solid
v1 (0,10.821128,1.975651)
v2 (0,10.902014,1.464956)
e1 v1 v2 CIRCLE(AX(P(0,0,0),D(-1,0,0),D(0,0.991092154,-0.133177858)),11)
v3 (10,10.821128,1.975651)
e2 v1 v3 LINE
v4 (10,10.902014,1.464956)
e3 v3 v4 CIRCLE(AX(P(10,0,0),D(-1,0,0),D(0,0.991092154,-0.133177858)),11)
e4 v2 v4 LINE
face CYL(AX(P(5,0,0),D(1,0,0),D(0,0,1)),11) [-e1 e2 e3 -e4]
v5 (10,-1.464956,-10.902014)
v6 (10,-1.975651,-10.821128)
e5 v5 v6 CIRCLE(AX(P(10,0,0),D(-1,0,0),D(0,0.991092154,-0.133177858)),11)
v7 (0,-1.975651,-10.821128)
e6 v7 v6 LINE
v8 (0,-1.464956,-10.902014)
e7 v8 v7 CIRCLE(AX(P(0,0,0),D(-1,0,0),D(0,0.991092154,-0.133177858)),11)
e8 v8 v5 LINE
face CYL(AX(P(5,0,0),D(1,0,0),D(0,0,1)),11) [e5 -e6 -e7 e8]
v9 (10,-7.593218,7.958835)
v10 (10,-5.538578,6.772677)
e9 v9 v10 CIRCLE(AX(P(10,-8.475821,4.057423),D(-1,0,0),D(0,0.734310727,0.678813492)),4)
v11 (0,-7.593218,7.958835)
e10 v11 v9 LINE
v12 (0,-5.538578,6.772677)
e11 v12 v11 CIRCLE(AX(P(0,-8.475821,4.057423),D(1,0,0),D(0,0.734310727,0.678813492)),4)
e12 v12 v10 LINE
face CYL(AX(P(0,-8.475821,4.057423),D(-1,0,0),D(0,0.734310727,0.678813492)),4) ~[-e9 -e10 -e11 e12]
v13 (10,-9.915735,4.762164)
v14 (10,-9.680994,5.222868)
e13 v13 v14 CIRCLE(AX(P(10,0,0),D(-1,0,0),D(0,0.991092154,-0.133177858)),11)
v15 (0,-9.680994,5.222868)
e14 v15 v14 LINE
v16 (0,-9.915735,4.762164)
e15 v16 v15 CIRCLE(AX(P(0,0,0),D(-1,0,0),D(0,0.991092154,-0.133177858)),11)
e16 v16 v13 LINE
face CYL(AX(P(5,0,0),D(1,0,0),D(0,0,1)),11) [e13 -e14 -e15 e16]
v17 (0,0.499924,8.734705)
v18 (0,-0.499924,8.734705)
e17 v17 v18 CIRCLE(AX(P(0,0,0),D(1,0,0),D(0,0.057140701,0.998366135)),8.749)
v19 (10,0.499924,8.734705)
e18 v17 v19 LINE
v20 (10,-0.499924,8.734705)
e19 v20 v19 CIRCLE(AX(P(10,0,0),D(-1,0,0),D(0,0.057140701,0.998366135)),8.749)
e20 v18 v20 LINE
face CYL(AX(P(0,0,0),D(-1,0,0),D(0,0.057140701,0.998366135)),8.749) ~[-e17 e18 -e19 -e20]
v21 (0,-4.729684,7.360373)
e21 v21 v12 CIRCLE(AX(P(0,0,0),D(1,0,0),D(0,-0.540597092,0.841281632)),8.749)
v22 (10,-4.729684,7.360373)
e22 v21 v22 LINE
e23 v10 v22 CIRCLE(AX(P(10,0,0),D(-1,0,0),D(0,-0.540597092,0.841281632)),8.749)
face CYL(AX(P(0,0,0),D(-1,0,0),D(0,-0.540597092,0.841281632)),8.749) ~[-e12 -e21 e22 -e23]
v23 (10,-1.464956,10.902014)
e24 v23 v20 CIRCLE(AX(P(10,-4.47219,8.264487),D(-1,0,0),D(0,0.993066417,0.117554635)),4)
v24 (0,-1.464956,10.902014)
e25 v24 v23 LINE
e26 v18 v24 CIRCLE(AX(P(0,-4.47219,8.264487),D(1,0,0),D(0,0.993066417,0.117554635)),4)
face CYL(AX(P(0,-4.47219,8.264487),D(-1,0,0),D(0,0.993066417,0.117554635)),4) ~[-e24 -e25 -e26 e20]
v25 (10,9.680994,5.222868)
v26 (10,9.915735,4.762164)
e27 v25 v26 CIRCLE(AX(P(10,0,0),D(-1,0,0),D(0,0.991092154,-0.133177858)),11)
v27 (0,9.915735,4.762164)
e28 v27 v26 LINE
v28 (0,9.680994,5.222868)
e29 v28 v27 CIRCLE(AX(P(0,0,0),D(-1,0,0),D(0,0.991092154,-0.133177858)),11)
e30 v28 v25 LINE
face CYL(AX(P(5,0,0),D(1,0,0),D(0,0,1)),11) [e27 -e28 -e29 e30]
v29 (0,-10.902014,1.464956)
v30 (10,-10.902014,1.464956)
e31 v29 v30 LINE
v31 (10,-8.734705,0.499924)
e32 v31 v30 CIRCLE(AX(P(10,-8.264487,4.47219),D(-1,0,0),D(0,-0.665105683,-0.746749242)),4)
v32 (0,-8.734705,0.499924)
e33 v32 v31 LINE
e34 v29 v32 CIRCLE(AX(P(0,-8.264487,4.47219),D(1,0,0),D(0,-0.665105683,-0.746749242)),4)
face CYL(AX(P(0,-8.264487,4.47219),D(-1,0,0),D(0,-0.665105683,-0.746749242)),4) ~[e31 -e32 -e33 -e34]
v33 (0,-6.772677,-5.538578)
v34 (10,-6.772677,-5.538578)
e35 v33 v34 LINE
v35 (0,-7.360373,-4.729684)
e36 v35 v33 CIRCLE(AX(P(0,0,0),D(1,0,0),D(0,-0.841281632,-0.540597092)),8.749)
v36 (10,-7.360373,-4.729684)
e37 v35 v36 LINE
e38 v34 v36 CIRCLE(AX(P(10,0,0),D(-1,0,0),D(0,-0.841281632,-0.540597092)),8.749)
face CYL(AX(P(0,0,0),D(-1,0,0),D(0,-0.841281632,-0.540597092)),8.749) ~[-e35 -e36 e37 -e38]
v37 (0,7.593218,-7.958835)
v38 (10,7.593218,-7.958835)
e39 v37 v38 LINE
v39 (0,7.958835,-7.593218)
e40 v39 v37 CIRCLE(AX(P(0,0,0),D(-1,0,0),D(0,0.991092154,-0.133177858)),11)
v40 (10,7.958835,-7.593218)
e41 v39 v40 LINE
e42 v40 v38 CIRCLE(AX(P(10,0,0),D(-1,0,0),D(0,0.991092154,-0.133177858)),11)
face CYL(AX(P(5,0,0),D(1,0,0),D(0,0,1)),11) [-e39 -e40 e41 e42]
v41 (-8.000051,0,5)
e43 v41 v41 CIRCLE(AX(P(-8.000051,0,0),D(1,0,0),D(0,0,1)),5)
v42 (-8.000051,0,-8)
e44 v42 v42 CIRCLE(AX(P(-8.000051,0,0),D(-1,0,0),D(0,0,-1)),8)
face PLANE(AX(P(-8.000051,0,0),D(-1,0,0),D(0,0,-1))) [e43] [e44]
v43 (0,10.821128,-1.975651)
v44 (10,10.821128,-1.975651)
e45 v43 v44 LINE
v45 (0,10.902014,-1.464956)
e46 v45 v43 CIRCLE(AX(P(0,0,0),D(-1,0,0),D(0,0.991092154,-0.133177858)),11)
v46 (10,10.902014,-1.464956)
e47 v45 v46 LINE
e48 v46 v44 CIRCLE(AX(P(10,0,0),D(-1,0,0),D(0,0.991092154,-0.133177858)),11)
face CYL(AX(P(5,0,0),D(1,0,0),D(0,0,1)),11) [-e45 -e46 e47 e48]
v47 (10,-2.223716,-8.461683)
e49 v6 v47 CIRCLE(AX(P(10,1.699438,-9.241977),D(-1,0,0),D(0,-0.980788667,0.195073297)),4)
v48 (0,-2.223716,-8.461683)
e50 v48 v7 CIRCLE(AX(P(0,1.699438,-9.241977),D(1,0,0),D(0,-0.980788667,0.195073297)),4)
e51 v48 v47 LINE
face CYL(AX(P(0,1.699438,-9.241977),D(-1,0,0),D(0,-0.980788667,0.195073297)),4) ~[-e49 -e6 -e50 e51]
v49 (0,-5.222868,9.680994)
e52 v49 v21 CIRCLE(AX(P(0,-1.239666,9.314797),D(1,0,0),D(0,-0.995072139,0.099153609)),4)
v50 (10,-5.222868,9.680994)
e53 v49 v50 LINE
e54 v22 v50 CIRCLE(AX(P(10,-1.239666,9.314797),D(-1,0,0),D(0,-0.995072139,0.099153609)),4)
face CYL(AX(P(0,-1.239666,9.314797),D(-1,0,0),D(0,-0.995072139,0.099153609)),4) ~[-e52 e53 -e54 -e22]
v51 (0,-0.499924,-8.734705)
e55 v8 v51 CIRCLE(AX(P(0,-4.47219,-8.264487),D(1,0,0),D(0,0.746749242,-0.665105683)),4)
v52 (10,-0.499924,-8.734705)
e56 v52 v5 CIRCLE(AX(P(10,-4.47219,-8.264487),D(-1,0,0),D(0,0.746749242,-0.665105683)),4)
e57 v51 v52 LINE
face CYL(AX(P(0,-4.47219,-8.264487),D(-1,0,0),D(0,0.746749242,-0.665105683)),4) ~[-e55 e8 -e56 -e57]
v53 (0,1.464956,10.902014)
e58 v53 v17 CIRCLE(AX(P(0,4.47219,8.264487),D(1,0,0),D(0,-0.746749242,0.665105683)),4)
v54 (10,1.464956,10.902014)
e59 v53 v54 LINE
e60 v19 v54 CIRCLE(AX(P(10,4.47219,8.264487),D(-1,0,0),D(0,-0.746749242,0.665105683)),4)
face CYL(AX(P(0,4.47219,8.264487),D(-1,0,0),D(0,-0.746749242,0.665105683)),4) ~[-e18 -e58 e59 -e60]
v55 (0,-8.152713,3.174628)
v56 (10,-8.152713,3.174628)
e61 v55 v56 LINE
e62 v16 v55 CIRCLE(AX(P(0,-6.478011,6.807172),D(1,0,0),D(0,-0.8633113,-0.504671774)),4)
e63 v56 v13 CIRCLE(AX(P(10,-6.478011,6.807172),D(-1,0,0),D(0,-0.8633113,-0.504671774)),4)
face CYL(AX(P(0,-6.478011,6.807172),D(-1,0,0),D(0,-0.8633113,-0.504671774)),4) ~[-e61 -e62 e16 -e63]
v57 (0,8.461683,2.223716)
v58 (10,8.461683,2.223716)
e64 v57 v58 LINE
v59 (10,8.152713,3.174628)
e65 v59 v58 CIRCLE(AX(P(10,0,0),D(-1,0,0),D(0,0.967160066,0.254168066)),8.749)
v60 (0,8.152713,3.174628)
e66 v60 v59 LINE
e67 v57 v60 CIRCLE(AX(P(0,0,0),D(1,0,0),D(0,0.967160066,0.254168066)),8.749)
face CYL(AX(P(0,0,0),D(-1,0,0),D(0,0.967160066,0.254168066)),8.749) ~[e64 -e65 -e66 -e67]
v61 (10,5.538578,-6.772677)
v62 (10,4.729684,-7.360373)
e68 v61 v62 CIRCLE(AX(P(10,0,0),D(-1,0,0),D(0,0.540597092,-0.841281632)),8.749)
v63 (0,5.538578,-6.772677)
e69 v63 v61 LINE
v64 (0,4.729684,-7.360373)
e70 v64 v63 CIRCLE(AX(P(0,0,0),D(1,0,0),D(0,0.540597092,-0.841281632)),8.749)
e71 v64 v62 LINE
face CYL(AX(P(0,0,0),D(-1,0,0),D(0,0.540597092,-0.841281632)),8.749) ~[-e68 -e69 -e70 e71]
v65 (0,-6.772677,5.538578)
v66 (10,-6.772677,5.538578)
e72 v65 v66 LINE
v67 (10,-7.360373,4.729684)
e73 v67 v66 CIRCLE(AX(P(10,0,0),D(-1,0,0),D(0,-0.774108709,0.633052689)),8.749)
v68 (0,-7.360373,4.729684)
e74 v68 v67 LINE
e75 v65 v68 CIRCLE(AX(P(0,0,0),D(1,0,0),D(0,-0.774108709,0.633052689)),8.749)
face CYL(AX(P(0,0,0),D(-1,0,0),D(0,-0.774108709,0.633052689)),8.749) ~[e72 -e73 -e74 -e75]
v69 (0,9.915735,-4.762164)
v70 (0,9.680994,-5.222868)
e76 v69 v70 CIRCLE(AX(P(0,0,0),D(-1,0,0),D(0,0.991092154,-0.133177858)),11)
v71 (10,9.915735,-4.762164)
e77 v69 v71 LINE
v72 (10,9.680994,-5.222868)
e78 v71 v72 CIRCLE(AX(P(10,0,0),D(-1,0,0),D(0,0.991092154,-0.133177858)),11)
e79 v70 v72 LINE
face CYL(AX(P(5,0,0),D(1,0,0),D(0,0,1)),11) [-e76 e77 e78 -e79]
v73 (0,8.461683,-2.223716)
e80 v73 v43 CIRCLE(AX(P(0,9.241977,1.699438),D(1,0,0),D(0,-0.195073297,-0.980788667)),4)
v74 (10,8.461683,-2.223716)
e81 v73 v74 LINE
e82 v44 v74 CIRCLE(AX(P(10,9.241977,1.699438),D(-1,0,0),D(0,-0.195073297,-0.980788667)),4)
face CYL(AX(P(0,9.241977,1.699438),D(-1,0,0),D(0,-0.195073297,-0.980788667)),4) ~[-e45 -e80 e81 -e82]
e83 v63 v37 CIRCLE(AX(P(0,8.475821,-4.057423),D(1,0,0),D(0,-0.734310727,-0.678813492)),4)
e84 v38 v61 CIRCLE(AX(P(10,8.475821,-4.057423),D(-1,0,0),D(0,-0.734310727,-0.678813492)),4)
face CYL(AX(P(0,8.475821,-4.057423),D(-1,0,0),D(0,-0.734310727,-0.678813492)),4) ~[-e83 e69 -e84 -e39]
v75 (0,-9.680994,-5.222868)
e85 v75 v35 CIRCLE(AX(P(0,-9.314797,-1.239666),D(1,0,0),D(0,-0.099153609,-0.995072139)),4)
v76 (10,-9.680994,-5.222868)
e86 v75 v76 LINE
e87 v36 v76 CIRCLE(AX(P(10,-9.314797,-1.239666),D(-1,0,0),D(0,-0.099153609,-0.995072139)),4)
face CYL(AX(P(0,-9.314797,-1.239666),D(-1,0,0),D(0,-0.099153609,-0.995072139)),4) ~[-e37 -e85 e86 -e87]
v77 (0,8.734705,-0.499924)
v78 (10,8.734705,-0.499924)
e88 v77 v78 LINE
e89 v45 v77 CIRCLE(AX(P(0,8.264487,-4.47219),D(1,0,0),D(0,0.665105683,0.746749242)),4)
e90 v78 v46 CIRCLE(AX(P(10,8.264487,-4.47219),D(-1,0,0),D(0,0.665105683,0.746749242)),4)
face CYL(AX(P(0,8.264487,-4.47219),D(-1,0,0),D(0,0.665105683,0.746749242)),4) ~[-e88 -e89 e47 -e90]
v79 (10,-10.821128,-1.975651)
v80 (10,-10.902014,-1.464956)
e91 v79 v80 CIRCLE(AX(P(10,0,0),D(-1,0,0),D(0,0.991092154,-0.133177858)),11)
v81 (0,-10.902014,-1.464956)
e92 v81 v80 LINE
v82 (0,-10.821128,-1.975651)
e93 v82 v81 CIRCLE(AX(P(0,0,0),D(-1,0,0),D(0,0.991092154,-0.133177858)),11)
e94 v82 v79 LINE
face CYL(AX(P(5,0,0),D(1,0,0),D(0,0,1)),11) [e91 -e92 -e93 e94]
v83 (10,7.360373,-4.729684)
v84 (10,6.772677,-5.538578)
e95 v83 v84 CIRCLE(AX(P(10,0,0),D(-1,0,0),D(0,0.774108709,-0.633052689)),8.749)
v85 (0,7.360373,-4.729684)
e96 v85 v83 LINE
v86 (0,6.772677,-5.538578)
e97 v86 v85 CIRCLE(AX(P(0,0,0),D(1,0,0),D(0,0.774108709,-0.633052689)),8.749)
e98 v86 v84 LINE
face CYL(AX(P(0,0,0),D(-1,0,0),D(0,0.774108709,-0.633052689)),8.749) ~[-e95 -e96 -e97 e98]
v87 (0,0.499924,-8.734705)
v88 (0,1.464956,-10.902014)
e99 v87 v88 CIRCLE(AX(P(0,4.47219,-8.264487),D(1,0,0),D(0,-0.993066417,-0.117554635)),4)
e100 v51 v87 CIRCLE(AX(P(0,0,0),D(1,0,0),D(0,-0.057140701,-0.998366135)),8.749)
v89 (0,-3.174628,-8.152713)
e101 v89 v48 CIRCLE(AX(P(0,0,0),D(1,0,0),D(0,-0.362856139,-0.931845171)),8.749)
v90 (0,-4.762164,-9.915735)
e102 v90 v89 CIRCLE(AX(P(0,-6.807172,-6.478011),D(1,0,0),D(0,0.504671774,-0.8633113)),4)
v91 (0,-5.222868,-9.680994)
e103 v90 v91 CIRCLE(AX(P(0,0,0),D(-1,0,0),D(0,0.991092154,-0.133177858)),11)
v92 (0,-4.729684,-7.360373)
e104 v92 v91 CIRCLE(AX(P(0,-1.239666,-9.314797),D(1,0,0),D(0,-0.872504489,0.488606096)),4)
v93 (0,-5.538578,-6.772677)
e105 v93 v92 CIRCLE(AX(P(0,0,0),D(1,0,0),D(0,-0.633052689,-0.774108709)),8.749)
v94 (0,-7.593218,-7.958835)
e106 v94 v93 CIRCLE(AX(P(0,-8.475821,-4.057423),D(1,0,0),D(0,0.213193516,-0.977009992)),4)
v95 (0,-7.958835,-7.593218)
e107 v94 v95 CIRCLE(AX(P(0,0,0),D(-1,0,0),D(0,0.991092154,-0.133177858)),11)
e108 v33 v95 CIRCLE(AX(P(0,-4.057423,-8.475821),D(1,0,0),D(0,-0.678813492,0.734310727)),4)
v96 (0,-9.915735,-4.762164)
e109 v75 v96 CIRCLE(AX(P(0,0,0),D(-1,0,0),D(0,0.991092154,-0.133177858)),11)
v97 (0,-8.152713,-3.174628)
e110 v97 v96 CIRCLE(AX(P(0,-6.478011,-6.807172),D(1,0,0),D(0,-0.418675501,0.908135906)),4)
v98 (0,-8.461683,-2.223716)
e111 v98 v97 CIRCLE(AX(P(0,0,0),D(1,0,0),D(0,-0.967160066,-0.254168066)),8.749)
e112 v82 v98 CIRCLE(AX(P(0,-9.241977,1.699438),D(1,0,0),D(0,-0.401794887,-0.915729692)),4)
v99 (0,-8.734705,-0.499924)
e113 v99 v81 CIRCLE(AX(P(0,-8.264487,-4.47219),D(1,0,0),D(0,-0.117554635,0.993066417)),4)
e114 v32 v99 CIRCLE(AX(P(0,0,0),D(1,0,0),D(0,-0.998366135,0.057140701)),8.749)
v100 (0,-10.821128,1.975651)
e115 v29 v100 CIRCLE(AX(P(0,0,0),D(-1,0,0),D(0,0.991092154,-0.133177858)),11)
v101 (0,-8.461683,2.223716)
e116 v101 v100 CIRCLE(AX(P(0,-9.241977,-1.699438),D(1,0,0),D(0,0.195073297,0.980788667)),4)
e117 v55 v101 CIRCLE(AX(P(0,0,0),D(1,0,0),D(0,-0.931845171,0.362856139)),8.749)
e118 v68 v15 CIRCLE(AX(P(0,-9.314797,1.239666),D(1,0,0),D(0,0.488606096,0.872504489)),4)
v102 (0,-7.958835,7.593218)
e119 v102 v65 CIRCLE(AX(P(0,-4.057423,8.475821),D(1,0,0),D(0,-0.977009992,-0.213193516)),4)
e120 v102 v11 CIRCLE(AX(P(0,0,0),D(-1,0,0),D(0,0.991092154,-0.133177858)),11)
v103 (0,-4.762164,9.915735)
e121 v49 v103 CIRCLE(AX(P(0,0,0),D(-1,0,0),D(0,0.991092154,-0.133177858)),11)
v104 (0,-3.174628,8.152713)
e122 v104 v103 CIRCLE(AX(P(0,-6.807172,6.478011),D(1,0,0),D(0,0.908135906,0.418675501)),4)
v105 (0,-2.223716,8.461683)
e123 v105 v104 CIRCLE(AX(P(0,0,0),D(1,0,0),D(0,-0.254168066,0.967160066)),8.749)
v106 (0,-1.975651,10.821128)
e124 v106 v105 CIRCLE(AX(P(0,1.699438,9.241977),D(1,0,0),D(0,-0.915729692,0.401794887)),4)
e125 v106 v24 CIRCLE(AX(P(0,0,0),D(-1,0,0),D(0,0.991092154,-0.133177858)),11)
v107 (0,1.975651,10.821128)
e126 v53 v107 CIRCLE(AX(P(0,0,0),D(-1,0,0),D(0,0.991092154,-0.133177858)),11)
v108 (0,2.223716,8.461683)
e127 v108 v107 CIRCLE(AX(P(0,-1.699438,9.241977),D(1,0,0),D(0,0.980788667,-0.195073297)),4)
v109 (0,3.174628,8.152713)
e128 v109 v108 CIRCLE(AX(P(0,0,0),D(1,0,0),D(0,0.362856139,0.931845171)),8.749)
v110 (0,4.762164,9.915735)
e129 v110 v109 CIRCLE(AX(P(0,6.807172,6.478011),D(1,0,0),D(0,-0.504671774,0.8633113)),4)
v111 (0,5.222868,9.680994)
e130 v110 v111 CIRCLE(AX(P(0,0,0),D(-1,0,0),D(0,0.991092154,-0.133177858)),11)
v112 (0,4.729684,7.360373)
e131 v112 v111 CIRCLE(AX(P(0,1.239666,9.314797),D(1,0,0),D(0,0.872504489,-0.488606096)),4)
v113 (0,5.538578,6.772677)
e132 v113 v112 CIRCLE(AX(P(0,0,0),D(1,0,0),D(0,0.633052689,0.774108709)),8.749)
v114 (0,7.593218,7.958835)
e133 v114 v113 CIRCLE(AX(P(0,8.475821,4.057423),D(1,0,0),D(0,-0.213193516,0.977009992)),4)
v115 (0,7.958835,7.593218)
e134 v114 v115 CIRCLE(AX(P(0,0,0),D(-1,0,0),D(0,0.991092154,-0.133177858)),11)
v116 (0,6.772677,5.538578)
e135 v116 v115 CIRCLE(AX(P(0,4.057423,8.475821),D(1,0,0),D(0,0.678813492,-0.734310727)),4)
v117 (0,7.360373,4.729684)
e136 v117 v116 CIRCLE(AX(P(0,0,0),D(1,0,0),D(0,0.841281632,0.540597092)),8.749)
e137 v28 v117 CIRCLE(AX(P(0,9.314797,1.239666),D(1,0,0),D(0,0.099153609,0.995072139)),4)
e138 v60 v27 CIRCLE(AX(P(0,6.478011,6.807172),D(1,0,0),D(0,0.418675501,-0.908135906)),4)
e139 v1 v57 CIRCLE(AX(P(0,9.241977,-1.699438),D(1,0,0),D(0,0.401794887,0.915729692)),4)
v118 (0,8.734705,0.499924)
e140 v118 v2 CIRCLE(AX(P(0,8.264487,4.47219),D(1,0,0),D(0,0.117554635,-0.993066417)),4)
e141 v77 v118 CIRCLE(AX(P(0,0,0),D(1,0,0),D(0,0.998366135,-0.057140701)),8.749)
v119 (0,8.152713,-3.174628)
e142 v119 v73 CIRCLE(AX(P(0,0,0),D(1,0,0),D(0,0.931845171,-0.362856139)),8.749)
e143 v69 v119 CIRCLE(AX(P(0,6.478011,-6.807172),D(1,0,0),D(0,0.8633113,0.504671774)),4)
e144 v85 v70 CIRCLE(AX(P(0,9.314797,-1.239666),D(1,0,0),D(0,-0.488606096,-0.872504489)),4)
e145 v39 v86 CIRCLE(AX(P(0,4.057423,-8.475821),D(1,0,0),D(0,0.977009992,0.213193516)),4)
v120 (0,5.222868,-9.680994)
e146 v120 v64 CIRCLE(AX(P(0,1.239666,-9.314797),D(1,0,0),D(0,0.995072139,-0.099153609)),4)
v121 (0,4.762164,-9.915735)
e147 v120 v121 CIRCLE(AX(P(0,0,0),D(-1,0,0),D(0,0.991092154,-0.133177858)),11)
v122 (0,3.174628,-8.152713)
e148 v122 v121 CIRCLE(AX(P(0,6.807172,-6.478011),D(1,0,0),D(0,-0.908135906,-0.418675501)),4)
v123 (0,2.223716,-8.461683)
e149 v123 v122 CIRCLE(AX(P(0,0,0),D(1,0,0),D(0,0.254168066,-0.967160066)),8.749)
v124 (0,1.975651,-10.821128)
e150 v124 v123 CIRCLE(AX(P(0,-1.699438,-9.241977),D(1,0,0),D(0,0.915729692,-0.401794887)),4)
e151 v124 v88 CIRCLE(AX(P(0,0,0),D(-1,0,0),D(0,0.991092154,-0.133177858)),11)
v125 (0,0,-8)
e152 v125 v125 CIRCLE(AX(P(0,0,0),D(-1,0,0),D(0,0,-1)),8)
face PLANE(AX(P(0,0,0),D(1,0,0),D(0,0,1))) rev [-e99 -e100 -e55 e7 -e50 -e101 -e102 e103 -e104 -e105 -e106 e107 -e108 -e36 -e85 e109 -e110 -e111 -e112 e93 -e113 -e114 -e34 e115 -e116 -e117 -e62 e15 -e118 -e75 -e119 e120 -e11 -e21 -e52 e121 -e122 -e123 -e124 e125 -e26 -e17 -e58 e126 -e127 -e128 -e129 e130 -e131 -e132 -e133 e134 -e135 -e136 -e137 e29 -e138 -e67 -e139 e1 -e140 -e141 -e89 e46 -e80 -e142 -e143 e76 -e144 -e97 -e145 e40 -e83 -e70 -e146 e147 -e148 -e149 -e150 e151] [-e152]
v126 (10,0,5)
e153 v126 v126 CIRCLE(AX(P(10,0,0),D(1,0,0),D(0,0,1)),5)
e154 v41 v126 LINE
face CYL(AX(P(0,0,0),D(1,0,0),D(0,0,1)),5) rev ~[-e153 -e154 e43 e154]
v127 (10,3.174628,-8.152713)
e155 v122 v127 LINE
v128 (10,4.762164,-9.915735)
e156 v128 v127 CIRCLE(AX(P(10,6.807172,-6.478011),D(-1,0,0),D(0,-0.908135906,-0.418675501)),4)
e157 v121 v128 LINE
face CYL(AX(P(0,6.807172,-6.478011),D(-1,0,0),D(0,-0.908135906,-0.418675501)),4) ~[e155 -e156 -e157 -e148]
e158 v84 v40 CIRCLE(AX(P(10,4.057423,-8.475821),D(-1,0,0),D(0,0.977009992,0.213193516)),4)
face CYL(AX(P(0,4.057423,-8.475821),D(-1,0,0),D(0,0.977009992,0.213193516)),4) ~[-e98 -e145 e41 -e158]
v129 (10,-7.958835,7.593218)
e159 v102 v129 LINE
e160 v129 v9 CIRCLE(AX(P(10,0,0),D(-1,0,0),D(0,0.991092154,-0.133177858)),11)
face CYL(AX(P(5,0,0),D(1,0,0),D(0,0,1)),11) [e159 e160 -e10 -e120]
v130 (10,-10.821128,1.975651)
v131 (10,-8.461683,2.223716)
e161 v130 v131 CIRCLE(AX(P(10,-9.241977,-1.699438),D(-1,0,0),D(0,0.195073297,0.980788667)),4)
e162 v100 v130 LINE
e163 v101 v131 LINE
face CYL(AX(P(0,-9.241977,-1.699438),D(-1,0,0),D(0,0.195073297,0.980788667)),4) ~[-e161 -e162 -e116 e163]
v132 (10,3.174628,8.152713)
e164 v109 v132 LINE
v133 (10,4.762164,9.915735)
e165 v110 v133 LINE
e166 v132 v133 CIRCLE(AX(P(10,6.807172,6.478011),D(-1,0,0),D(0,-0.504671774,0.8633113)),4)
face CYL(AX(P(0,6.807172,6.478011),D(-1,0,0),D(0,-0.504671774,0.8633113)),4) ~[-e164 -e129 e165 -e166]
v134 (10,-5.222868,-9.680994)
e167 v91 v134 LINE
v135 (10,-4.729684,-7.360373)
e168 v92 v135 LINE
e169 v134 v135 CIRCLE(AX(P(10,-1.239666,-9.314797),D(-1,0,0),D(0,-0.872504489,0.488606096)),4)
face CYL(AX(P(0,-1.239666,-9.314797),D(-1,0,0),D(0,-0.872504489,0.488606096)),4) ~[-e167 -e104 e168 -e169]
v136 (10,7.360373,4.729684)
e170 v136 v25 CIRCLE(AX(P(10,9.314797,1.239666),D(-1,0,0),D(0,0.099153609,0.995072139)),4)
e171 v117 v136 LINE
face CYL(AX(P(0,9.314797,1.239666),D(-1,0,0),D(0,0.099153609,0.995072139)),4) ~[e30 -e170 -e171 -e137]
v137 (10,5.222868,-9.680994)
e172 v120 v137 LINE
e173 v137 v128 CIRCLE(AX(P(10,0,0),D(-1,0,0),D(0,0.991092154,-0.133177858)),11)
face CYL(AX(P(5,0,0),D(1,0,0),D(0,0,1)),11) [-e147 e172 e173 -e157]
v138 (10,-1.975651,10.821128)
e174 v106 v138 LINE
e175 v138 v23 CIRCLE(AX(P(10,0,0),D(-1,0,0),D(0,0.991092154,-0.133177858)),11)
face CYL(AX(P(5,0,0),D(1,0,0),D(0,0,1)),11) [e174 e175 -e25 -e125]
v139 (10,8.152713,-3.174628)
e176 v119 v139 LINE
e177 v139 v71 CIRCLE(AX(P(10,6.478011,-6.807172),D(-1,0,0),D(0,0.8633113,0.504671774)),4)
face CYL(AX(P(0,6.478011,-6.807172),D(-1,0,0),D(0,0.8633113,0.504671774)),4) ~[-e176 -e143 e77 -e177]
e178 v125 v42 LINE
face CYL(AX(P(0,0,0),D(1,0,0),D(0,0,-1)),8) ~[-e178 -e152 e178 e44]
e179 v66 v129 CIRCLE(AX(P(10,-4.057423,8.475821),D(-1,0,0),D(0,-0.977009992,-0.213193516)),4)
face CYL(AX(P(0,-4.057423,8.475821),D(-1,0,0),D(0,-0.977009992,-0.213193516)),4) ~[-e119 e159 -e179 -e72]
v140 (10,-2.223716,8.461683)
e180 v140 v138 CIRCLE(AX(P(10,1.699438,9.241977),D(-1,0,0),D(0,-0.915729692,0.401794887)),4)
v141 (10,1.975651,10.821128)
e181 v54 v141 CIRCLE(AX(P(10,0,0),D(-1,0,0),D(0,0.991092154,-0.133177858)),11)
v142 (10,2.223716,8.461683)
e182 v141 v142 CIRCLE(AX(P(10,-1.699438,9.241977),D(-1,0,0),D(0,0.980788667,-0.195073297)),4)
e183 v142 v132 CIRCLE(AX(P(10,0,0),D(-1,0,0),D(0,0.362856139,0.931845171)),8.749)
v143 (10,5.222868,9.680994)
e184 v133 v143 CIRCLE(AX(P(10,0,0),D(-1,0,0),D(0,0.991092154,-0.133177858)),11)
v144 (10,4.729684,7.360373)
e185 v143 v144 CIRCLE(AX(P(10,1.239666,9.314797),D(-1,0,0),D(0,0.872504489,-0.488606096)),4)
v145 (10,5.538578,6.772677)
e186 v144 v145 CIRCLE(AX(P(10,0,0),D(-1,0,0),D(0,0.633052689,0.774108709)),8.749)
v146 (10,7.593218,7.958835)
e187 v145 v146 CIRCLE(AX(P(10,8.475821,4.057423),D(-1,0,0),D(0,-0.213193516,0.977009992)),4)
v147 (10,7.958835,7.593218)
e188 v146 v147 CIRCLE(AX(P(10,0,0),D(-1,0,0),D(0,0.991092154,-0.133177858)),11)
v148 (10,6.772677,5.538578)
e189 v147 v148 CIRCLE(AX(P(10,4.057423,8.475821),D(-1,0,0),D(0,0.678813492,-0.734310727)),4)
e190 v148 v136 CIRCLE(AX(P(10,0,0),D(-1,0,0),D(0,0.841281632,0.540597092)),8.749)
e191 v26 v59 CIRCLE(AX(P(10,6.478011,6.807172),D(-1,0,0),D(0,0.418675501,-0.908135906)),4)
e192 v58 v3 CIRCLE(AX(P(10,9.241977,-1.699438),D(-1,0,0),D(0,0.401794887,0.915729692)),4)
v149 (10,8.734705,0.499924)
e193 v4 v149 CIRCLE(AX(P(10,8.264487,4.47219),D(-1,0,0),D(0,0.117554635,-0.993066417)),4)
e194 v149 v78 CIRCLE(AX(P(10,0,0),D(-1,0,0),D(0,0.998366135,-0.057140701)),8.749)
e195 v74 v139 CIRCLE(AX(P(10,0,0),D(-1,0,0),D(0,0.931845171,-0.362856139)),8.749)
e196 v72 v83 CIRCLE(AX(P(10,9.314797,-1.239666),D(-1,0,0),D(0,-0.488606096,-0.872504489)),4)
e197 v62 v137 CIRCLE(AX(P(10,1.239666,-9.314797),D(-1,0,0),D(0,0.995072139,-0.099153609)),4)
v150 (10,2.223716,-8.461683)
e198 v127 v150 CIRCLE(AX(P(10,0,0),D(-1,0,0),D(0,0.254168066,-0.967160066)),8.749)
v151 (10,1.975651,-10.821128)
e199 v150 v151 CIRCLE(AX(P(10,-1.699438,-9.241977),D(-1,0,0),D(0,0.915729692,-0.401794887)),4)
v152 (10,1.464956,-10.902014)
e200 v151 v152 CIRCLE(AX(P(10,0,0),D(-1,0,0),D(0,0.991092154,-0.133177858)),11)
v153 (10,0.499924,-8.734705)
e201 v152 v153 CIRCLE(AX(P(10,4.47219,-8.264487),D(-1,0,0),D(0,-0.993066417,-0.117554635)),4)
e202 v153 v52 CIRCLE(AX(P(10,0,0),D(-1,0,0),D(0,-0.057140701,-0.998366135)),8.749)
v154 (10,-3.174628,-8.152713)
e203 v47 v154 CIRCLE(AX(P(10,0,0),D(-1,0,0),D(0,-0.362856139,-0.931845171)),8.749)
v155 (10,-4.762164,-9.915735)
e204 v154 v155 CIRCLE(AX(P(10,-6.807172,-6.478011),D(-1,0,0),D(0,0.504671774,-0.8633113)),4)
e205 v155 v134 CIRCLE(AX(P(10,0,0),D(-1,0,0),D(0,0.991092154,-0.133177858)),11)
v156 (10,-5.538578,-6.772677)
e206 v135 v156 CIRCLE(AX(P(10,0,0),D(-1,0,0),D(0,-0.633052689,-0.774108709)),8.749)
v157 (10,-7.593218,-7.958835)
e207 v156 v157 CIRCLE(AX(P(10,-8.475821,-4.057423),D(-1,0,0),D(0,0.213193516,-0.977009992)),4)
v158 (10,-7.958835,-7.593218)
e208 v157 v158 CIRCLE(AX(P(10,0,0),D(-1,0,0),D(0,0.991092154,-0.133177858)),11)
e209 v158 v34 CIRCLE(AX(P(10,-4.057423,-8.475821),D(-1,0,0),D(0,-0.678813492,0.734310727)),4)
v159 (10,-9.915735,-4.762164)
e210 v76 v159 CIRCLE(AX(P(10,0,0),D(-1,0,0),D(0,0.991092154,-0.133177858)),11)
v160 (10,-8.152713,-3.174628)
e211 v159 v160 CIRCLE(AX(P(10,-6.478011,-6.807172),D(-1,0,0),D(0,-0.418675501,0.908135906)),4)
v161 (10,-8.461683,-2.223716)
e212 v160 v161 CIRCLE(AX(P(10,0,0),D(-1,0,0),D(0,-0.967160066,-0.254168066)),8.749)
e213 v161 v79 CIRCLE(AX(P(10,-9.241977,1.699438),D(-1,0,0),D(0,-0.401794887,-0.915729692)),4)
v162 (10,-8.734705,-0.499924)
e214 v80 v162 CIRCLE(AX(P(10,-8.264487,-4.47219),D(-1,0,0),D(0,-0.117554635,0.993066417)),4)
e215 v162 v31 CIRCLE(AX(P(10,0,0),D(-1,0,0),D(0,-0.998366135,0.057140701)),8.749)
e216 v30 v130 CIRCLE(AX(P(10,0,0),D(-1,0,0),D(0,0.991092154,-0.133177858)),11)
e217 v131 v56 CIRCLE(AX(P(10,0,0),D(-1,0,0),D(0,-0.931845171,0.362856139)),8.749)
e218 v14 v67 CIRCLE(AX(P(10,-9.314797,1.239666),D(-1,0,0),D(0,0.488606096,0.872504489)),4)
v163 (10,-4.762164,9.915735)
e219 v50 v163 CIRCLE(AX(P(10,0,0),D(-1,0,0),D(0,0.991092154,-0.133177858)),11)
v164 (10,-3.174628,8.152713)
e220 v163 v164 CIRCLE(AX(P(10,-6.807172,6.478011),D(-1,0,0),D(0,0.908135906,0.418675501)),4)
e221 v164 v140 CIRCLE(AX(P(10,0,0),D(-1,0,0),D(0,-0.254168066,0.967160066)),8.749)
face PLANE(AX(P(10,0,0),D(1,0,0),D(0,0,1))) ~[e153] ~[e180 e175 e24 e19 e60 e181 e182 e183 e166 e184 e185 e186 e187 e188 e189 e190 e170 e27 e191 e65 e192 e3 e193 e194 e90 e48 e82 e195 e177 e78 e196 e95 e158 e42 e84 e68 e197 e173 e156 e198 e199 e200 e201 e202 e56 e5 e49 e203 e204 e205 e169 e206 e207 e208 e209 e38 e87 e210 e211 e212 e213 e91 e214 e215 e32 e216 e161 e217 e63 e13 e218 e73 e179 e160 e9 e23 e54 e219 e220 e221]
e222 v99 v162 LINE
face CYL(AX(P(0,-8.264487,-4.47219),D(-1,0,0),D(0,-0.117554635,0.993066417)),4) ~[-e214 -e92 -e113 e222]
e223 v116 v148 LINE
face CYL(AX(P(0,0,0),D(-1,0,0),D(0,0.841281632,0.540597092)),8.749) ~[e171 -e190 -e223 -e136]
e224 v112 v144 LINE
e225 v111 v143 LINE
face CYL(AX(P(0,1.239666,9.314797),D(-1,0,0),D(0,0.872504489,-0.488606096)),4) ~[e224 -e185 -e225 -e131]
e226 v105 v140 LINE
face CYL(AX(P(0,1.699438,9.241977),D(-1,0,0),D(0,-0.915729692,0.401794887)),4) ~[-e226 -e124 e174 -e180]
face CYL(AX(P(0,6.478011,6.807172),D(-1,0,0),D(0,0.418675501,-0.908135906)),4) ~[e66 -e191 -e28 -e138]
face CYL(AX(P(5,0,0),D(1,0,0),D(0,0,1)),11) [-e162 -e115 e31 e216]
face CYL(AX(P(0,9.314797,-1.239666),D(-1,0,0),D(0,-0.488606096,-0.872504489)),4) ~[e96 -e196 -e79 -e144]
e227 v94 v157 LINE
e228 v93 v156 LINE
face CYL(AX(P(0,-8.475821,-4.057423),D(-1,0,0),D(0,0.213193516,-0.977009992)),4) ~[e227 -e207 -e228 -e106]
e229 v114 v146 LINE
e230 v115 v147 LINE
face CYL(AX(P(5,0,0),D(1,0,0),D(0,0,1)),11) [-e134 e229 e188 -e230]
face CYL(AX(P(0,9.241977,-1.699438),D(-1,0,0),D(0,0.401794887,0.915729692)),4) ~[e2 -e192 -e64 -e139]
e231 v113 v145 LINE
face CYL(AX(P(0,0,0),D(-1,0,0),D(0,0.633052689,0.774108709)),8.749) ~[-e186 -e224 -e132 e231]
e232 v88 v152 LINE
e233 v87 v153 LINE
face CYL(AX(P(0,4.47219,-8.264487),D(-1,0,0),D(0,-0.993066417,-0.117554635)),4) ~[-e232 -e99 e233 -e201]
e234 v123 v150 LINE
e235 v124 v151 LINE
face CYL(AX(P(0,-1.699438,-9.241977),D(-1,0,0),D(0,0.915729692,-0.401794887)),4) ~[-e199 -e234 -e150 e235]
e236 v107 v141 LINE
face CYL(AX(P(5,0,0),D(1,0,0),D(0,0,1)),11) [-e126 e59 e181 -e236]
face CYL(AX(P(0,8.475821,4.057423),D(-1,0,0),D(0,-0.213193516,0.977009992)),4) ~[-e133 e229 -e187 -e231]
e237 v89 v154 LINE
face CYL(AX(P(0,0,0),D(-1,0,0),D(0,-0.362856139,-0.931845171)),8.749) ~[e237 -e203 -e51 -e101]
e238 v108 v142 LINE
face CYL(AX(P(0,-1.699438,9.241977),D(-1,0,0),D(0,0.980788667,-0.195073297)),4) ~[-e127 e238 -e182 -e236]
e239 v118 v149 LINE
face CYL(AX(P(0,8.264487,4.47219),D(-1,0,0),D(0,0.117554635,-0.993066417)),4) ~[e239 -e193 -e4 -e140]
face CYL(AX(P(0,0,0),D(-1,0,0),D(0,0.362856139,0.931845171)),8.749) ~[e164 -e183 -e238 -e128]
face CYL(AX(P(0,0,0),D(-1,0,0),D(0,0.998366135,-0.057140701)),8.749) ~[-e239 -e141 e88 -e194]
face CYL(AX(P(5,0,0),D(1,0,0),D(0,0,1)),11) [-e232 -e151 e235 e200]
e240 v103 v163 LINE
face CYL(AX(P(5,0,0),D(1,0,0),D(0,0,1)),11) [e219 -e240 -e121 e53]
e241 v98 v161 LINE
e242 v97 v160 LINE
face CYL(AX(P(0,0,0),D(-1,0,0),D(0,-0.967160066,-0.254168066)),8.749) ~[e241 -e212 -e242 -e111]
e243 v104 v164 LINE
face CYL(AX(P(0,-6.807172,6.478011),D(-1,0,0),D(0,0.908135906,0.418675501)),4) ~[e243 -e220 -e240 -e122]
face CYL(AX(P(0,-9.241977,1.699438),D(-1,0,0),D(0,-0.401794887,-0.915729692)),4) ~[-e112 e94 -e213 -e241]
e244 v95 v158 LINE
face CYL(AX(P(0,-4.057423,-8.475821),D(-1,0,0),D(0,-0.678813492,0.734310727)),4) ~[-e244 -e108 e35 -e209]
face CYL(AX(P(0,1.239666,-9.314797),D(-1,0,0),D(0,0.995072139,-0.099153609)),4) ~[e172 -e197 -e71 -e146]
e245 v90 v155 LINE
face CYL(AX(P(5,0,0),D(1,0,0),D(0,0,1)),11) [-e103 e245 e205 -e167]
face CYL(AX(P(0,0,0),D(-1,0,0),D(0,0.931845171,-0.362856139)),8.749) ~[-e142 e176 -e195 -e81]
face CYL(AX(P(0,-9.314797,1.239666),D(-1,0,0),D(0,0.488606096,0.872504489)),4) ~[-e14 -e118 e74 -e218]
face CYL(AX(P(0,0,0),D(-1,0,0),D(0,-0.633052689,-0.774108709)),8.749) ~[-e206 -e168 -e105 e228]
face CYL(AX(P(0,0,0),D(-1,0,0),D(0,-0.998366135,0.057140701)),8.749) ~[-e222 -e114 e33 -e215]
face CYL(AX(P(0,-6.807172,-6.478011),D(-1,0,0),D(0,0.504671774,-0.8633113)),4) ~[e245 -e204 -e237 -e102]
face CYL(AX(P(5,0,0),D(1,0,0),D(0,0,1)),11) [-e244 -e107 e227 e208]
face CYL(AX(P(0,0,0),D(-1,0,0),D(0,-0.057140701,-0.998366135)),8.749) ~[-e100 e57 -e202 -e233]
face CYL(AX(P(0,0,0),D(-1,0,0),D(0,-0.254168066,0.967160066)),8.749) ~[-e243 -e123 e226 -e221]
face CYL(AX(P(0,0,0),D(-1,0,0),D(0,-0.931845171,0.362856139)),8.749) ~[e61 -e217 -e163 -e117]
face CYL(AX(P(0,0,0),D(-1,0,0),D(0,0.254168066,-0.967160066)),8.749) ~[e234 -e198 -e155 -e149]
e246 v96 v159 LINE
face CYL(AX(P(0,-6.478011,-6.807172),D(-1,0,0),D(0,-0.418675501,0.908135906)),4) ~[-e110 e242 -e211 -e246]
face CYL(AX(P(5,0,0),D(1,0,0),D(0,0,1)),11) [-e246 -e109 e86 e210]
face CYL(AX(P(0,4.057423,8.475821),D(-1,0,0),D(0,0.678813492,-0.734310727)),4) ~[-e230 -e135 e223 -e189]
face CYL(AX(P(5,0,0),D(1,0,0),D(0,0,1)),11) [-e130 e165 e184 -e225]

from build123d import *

# Parameters (mm, degrees)
BASPROSKE_W      = 10
BASPROSKE_H      = 11
TOOTHCUT_DEPTH   = 19.493242009
TEETHCUTS_COUNT  = 20
TEETHCUTS_ANGLE  = 342
HUBNEAONESKE_R   = 8
HUBNEARONE_DEPTH = 8.0000508
BORSKE_R         = 5
BORE_DEPTH       = 18.0000508


with BuildPart() as part:
    # BasProSke → Base-Revolve (revolve)
    with BuildSketch(Plane(origin=(0, 0, 0), x_dir=(1, 0, 0), z_dir=(0, 1, 0)), mode=Mode.PRIVATE) as base_revolve_sk:
        with Locations((5, 5.5)):
            Rectangle(BASPROSKE_W, BASPROSKE_H)
    revolve(base_revolve_sk.sketch.rotate(Axis((-10, 0, 0), (1, 0, 0)), 180), axis=Axis((-10, 0, 0), (1, 0, 0)))

    # TooCutSke → ToothCut (cut, through all)
    with BuildSketch(Plane(origin=(0, 0, 0), x_dir=(0, 0, -1), z_dir=(1, 0, 0))):
        with BuildLine():
            ThreePointArc((0.499924007, 8.734705318), (0, 8.749), (-0.499924007, 8.734705318))
            ThreePointArc((-0.499924007, 8.734705318), (-0.824302243, 9.905497836), (-1.485192705, 10.924909509))
            ThreePointArc((-1.485192705, 10.924909509), (0, 11.0254), (1.485192705, 10.924909509))
            ThreePointArc((1.485192705, 10.924909509), (0.824302243, 9.905497836), (0.499924007, 8.734705318))
        make_face()
    toothcut = extrude(amount=TOOTHCUT_DEPTH, mode=Mode.SUBTRACT)

    # TeethCuts: ToothCut ×20 about axis
    teethcuts_axis = Axis((-10, 0, 0), (1, 0, 0))
    for i in range(1, TEETHCUTS_COUNT):
        add(toothcut.rotate(teethcuts_axis, i * TEETHCUTS_ANGLE / (TEETHCUTS_COUNT - 1)), mode=Mode.SUBTRACT)

    # HubNeaOneSke → HubNearOne (add)
    with BuildSketch(Plane.ZY):
        with Locations(Location((0, 0, 0), (0, 0, 180))):
            Circle(HUBNEAONESKE_R)
    extrude(amount=HUBNEARONE_DEPTH)

    # BorSke → Bore (cut, symmetric)
    with BuildSketch(Plane(origin=(0, 0, 0), x_dir=(0, 0, -1), z_dir=(1, 0, 0))):
        with Locations(Location((0, 0, 0), (0, 0, 180))):
            Circle(BORSKE_R)
    extrude(amount=BORE_DEPTH, both=True, mode=Mode.SUBTRACT)


solid = part.part
